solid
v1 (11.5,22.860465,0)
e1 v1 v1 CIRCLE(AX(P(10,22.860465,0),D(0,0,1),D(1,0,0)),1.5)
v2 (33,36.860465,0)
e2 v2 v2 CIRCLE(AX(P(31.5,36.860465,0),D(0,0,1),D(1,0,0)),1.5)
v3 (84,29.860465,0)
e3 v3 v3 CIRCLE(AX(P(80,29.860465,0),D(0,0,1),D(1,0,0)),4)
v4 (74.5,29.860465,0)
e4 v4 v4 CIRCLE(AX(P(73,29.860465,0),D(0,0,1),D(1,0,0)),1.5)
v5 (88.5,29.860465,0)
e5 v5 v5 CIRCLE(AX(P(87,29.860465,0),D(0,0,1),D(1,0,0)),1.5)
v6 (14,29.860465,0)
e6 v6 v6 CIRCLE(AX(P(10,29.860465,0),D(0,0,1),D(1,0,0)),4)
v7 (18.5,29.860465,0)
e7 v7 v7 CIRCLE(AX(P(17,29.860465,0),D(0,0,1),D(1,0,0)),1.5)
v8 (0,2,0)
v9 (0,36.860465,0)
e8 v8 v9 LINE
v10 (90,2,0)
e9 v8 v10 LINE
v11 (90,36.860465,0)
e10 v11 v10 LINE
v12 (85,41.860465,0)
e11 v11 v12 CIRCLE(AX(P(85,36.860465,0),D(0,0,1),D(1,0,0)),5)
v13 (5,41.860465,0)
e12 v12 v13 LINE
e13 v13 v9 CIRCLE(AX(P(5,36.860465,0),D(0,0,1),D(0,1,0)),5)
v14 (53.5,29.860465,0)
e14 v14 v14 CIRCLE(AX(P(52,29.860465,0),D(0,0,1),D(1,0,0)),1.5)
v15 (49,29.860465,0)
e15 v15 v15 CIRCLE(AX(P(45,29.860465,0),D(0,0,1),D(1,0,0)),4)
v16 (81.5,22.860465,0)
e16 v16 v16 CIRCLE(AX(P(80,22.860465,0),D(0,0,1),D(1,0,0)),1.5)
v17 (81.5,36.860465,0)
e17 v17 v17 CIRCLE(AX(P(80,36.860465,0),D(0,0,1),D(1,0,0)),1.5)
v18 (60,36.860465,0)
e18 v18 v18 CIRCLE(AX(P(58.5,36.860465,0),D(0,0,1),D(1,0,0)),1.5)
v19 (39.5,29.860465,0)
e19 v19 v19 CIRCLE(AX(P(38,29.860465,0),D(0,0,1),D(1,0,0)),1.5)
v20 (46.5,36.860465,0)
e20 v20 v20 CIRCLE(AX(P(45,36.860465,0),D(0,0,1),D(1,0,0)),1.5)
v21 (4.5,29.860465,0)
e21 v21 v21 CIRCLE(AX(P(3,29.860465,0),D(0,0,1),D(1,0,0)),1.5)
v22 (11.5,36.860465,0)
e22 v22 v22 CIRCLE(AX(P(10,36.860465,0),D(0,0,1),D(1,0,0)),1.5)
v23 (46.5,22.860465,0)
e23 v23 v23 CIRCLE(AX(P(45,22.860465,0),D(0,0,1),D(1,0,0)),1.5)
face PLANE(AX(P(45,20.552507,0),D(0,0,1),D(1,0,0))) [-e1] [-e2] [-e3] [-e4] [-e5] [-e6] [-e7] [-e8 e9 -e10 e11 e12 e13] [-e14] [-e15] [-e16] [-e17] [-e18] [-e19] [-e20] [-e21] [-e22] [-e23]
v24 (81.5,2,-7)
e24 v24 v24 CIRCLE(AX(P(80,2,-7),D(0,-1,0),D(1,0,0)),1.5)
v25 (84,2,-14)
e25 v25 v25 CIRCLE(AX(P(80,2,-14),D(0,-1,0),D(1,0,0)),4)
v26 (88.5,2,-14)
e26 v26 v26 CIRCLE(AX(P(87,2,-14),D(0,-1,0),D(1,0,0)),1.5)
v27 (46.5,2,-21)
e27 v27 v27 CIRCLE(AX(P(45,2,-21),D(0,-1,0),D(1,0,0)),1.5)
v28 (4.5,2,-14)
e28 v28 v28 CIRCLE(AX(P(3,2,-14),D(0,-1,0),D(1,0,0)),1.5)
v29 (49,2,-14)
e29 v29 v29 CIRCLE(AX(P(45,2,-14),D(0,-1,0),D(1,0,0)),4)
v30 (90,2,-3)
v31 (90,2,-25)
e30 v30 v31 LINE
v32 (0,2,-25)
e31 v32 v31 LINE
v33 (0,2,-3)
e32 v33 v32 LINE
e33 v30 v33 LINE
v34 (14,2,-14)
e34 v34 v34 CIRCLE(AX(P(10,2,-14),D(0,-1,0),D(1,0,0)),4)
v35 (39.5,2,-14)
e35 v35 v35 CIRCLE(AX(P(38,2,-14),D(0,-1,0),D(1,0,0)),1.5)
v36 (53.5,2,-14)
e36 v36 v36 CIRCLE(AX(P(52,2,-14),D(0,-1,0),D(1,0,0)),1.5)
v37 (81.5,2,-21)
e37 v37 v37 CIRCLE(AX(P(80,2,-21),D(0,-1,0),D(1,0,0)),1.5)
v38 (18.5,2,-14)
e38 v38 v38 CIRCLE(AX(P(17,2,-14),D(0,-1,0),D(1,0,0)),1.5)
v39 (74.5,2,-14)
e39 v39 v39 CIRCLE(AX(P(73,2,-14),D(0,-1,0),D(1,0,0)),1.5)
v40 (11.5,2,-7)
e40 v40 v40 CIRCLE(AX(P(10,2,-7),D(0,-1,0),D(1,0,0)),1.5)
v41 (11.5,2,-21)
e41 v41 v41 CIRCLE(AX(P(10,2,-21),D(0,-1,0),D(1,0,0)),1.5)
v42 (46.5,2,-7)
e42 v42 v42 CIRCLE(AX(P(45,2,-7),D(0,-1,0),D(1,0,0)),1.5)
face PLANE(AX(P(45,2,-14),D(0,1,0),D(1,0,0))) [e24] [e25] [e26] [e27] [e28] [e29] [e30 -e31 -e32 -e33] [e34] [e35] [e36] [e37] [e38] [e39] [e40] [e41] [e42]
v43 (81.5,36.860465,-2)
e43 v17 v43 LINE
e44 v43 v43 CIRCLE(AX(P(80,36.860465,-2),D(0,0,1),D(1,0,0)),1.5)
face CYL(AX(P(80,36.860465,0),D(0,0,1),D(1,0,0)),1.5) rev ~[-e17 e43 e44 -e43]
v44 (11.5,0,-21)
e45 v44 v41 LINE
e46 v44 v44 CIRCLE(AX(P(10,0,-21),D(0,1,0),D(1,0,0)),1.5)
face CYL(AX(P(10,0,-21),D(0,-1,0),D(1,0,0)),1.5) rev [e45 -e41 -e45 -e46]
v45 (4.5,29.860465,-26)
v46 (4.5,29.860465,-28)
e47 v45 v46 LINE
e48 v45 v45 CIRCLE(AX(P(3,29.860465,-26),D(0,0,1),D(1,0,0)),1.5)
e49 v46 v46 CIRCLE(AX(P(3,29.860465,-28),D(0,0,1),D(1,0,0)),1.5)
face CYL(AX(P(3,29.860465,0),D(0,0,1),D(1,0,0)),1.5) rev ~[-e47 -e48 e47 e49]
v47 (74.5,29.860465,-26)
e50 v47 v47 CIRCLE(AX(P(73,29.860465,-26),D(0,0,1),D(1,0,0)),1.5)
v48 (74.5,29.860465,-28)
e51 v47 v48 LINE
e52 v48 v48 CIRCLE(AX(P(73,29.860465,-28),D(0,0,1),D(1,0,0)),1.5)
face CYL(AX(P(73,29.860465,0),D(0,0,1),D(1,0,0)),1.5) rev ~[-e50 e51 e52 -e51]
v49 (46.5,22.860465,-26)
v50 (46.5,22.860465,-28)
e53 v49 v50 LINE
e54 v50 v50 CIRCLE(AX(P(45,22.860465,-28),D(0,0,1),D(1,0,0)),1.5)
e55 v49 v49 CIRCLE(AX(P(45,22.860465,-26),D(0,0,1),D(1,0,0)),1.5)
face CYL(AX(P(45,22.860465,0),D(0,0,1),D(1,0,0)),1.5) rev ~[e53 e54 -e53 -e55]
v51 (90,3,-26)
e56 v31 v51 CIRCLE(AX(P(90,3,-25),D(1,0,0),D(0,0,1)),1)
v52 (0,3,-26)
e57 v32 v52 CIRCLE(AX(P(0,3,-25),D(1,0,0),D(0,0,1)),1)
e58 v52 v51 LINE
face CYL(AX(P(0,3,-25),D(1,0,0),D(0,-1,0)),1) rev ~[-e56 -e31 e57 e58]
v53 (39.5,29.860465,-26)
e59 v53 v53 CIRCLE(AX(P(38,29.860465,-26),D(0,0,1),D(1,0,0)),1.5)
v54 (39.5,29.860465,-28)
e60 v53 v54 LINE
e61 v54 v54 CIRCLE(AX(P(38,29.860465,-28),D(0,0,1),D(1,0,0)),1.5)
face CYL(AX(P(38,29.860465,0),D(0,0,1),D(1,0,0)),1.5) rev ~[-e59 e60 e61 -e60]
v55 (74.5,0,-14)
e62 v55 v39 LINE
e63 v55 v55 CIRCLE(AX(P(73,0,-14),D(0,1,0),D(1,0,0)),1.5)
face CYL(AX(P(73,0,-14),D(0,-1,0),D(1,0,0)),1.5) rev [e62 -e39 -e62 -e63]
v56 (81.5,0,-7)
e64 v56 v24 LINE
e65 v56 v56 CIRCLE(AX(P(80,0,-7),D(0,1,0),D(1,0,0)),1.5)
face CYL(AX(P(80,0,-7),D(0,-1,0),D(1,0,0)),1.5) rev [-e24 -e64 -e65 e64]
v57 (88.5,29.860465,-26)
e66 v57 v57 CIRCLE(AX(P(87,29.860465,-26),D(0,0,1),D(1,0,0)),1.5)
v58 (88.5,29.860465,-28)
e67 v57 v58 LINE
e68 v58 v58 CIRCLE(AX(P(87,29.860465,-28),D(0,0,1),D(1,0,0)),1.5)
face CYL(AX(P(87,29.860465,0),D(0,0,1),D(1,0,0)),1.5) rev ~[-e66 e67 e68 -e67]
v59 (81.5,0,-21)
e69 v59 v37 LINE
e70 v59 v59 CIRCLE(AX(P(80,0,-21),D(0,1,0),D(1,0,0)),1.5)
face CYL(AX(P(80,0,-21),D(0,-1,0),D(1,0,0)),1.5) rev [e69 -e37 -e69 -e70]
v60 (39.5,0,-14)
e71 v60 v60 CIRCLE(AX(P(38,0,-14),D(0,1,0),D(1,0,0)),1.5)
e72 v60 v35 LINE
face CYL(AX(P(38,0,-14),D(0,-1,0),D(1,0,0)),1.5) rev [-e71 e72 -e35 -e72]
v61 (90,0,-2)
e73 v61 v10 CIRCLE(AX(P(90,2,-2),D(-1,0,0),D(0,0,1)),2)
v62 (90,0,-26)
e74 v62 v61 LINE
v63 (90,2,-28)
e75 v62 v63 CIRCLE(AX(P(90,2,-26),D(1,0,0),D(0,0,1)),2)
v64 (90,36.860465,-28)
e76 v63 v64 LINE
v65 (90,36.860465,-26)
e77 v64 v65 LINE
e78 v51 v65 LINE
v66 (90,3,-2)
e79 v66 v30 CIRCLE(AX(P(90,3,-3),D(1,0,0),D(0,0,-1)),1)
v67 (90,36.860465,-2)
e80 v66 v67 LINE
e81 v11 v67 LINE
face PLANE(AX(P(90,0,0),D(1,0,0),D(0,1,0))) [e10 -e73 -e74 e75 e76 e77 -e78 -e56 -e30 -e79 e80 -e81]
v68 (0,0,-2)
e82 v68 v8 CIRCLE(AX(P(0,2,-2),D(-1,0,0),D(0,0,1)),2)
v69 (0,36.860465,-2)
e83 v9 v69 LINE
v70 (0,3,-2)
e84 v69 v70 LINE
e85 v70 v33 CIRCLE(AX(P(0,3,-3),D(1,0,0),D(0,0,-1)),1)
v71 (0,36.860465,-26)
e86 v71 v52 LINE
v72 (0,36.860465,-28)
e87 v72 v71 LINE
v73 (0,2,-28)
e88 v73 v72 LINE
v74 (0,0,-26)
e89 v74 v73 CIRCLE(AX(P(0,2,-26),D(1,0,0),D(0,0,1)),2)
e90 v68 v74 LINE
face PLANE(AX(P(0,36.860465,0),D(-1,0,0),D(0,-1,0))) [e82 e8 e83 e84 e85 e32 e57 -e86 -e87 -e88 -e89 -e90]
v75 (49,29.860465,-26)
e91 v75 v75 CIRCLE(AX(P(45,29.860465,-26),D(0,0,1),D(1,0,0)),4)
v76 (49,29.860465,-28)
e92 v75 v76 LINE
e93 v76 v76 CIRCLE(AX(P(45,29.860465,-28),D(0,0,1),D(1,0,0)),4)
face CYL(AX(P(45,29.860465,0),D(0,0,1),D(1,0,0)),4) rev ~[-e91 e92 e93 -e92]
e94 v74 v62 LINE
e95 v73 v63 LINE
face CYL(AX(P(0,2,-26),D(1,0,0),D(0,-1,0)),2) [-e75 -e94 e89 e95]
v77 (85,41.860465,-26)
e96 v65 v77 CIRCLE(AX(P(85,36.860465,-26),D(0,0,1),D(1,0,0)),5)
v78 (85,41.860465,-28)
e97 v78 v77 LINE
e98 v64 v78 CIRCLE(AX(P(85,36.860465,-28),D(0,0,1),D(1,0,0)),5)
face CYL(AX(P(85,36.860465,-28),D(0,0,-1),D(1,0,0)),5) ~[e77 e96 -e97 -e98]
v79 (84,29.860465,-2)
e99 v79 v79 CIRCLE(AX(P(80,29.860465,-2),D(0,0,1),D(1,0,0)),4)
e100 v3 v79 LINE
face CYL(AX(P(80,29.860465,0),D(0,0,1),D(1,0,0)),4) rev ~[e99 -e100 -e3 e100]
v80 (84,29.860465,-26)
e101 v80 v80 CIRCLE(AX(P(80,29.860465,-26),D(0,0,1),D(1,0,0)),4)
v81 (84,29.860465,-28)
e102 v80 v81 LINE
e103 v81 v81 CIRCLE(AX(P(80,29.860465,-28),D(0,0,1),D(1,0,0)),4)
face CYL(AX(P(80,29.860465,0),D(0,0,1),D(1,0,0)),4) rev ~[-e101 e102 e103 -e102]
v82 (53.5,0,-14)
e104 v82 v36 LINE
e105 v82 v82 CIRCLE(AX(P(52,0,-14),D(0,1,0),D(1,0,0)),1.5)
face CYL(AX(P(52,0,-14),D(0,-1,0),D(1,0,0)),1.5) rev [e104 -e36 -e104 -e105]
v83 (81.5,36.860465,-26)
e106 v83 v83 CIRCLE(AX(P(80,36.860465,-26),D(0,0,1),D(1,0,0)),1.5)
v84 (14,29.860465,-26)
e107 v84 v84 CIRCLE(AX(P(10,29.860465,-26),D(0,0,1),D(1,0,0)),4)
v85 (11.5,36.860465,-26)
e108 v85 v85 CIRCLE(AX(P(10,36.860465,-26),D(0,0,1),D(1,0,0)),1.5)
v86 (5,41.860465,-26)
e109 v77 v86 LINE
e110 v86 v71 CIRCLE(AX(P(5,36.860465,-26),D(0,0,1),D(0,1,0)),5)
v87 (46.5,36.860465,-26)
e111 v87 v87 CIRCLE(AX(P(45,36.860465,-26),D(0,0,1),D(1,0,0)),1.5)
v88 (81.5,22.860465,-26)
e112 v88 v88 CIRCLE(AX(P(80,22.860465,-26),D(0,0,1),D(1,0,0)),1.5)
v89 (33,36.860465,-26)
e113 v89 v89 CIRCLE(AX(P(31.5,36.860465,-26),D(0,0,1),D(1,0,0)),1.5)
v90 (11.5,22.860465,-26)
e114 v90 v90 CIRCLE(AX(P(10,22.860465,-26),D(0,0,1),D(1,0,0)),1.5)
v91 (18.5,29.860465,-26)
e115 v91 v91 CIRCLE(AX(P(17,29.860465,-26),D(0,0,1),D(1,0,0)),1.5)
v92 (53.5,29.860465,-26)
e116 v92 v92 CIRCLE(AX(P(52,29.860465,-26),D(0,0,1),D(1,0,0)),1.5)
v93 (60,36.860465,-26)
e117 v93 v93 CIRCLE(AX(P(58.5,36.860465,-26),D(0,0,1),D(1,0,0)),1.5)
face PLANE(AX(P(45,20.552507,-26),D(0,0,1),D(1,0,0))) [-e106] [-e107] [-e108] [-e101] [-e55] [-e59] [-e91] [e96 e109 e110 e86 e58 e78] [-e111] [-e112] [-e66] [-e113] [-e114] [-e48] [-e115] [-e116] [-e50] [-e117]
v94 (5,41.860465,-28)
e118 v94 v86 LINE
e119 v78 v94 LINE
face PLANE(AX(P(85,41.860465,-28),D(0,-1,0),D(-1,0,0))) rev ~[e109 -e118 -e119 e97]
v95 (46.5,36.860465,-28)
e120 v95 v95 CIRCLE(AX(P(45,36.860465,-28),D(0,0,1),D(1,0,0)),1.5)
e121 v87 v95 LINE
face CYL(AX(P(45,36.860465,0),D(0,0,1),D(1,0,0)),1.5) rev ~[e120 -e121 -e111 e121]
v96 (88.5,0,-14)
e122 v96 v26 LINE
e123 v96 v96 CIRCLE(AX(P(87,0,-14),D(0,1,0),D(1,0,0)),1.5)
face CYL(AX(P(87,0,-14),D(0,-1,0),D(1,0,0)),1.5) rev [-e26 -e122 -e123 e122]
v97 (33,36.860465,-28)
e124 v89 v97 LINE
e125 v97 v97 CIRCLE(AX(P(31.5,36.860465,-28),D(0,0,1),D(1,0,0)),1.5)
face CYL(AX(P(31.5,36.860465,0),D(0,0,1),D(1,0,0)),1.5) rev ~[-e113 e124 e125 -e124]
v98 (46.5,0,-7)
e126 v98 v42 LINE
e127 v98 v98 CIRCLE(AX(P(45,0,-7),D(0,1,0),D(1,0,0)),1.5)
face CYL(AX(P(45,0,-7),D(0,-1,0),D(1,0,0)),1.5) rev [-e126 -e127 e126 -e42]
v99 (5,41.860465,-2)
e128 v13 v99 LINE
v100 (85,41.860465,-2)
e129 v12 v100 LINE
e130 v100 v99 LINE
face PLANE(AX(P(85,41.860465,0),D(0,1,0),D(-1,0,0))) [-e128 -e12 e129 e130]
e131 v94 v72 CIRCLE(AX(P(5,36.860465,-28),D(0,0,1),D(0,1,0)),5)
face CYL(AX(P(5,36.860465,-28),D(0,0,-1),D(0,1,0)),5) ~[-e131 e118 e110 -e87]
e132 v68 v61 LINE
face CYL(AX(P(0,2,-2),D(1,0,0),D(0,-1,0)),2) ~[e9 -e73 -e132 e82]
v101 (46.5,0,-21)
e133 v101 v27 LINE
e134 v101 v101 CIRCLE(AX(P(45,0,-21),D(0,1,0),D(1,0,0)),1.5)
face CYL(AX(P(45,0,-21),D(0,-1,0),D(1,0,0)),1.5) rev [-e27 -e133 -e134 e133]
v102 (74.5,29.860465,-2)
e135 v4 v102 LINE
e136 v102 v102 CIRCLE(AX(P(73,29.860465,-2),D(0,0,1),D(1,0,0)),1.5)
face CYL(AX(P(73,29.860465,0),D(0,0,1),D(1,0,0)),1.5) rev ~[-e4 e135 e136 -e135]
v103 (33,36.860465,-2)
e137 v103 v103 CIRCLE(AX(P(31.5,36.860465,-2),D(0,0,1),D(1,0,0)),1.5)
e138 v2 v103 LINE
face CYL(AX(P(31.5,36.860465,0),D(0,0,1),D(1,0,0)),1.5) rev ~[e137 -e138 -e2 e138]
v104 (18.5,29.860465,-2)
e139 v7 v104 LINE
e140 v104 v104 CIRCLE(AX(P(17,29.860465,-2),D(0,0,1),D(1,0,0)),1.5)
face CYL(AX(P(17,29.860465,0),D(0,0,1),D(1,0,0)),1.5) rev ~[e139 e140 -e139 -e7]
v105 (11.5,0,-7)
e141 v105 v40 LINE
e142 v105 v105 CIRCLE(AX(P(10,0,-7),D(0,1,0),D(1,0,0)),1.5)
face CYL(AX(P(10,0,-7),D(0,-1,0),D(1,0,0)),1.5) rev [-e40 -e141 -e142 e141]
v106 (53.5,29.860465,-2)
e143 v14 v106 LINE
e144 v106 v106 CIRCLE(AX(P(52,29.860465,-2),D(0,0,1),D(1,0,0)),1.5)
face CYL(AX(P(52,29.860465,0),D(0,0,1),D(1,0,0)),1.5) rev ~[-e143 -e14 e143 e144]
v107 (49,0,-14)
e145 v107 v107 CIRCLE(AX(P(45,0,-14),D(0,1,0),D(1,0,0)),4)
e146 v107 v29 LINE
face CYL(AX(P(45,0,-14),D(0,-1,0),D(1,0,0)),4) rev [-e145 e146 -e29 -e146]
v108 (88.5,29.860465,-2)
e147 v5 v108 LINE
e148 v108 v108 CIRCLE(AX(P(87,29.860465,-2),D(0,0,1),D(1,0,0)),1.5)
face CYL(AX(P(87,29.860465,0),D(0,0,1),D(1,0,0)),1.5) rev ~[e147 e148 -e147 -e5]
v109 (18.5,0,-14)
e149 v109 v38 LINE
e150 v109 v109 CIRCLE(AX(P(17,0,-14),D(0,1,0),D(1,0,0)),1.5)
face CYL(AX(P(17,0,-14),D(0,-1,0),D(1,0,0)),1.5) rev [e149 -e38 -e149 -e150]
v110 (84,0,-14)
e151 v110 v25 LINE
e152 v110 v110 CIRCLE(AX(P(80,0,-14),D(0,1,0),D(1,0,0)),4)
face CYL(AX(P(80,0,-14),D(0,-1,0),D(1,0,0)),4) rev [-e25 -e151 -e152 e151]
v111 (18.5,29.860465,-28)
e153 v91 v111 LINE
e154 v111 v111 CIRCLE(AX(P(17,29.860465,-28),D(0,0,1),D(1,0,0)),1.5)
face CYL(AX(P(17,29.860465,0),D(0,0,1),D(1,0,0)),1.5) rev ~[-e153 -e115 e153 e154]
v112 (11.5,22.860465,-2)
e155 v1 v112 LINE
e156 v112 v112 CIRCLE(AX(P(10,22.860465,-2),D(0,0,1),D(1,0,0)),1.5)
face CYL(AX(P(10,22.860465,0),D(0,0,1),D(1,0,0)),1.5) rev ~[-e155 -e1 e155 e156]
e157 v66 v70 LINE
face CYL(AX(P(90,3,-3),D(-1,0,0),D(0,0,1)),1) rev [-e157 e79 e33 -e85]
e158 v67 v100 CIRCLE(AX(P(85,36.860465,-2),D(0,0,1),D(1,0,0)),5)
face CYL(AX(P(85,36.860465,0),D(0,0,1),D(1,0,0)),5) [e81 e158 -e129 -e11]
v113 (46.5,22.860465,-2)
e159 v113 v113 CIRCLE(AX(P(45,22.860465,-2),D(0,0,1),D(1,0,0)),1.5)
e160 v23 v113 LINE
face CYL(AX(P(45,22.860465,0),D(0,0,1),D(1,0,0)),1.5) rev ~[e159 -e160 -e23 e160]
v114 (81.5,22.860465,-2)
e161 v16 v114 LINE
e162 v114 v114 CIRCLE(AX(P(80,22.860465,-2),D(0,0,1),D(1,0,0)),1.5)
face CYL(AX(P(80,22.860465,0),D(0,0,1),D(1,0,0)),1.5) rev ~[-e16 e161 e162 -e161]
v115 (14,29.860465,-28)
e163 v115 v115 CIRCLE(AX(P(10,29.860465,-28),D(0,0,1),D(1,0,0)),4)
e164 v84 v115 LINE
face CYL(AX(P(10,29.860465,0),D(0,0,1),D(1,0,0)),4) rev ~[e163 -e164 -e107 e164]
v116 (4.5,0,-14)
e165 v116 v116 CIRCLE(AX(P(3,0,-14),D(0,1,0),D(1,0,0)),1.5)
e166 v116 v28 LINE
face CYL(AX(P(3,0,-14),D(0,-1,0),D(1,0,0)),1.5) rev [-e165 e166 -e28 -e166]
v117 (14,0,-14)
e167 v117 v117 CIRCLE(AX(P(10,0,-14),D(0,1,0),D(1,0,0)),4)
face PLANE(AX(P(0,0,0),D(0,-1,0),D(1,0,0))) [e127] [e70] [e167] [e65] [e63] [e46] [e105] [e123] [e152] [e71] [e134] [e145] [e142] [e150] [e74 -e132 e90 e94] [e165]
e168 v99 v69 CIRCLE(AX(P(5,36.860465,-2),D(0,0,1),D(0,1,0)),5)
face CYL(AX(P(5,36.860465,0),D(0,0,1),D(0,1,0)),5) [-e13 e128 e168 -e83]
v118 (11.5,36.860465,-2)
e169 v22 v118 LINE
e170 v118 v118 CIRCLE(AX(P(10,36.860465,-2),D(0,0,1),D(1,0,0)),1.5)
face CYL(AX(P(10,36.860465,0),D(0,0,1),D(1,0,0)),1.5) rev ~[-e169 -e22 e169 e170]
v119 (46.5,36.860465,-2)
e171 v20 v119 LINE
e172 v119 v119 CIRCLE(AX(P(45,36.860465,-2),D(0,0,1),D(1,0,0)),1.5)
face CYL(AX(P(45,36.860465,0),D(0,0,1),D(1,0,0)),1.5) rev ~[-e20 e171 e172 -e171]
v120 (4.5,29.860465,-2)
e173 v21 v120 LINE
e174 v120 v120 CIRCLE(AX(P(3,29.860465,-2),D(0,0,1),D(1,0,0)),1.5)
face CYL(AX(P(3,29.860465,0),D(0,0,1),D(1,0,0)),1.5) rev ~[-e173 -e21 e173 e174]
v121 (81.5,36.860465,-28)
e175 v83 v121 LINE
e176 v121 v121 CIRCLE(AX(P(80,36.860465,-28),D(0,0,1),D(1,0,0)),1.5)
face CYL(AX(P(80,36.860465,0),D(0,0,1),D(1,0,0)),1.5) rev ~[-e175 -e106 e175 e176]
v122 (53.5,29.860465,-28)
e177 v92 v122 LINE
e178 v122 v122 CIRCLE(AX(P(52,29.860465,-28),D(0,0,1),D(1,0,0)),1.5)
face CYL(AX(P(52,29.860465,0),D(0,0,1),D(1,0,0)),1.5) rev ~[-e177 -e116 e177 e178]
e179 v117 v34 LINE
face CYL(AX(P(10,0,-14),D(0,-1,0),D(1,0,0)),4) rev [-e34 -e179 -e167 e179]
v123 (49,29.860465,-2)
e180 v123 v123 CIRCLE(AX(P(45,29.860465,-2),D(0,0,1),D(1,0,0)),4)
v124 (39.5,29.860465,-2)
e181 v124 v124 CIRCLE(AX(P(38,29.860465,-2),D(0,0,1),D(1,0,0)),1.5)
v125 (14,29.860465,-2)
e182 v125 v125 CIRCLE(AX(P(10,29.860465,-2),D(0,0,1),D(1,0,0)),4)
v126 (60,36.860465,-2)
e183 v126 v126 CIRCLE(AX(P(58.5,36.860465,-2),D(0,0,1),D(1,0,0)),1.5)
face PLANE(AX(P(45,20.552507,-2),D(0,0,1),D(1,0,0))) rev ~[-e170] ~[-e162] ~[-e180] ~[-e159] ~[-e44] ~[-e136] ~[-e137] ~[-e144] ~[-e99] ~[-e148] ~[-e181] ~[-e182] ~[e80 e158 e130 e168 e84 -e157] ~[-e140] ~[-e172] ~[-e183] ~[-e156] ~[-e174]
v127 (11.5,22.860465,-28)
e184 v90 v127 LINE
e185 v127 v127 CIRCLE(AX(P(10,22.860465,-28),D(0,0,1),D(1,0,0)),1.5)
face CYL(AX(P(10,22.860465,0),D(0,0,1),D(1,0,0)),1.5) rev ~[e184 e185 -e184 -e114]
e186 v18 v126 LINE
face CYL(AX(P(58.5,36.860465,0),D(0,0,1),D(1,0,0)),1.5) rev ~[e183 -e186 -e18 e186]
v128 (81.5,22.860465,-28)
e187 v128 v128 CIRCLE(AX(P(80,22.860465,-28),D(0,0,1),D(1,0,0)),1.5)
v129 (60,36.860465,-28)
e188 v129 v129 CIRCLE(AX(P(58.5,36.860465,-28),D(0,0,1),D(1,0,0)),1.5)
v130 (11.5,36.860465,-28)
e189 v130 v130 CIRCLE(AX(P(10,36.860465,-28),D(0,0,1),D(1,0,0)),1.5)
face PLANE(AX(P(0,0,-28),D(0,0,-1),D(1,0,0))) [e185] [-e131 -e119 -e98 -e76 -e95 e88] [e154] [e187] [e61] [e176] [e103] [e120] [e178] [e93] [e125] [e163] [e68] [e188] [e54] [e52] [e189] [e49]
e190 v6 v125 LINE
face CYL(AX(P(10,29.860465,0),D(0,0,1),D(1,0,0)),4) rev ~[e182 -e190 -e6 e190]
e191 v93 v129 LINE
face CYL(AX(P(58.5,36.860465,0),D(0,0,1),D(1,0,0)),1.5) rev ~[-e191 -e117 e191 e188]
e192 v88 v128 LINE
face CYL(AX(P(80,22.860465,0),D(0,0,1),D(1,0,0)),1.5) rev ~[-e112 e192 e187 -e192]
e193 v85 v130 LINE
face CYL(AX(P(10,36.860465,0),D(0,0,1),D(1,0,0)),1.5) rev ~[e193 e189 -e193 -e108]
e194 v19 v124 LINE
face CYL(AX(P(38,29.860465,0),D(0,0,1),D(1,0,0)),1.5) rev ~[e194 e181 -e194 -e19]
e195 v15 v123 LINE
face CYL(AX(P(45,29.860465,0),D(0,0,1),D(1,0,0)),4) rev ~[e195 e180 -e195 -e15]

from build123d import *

# Parameters (mm, degrees)
ESTRUSIONE_ESTRUSIONE1_DEPTH = 2
SCHIZZO2_W                   = 90
SCHIZZO2_H                   = 28
ESTRUSIONE_ESTRUSIONE2_DEPTH = 2
ESTRUSIONE_ESTRUSIONE3_DEPTH = 2
SCHIZZO5_R                   = 4
SCHIZZO5_R_2                 = 1.5
TAGLIO_ESTRUSIONE1_DEPTH     = 29
RACCORDO1_R                  = 2
RACCORDO2_R                  = 2
RACCORDO3_R                  = 1
RACCORDO4_R                  = 1
SCHIZZO6_R                   = 4
SCHIZZO6_R_2                 = 1.5
TAGLIO_ESTRUSIONE2_DEPTH     = 42.860465116
SKETCH1_R                    = 1.5
CUT_EXTRUDE1_DEPTH           = 1
CUT_EXTRUDE1_DEPTH_BACK      = 29


with BuildPart() as part:
    # Schizzo1 → Estrusione-Estrusione1 (new body)
    with BuildSketch(Plane.XY):
        with BuildLine():
            Line((0, 0), (90, 0))
            Line((90, 0), (90, 36.860465116))
            ThreePointArc((90, 36.860465116), (88.535533906, 40.395999022), (85, 41.860465116))
            Line((85, 41.860465116), (5, 41.860465116))
            ThreePointArc((5, 41.860465116), (1.464466094, 40.395999022), (0, 36.860465116))
            Line((0, 36.860465116), (0, 0))
        make_face()
    extrude(amount=-ESTRUSIONE_ESTRUSIONE1_DEPTH)

    # Schizzo2 → Estrusione-Estrusione2 (add)
    with BuildSketch(Plane(origin=(0, 0, 0), x_dir=(1, 0, 0), z_dir=(0, 1, 0))):
        with Locations((45, 14)):
            Rectangle(SCHIZZO2_W, SCHIZZO2_H)
    extrude(amount=ESTRUSIONE_ESTRUSIONE2_DEPTH)

    # Schizzo4 → Estrusione-Estrusione3 (add)
    with BuildSketch(Plane.XY.offset(-28)):
        with BuildLine():
            Line((90, 0), (90, 36.860465116))
            ThreePointArc((90, 36.860465116), (88.535533906, 40.395999022), (85, 41.860465116))
            Line((85, 41.860465116), (5, 41.860465116))
            ThreePointArc((5, 41.860465116), (1.464466094, 40.395999022), (0, 36.860465116))
            Line((0, 36.860465116), (0, 0))
            Line((0, 0), (90, 0))
        make_face()
    extrude(amount=ESTRUSIONE_ESTRUSIONE3_DEPTH)

    # Schizzo5 → Taglio-Estrusione1 (cut, through all)
    with BuildSketch(Plane.XY):
        with Locations((10, 29.860465116)):
            Circle(SCHIZZO5_R)
        with Locations((45, 29.860465116)):
            Circle(SCHIZZO5_R)
        with Locations((80, 29.860465116)):
            Circle(SCHIZZO5_R)
        with Locations((10, 36.860465116)):
            Circle(SCHIZZO5_R_2)
        with Locations((3, 29.860465116)):
            Circle(SCHIZZO5_R_2)
        with Locations((10, 22.860465116)):
            Circle(SCHIZZO5_R_2)
        with Locations((17, 29.860465116)):
            Circle(SCHIZZO5_R_2)
        with Locations((38, 29.860465116)):
            Circle(SCHIZZO5_R_2)
        with Locations((45, 36.860465116)):
            Circle(SCHIZZO5_R_2)
        with Locations((80, 36.860465116)):
            Circle(SCHIZZO5_R_2)
        with Locations((73, 29.860465116)):
            Circle(SCHIZZO5_R_2)
        with Locations((45, 22.860465116)):
            Circle(SCHIZZO5_R_2)
        with Locations((80, 22.860465116)):
            Circle(SCHIZZO5_R_2)
        with Locations((87, 29.860465116)):
            Circle(SCHIZZO5_R_2)
        with Locations((52, 29.860465116)):
            Circle(SCHIZZO5_R_2)
    extrude(amount=-TAGLIO_ESTRUSIONE1_DEPTH, mode=Mode.SUBTRACT)

    # Raccordo1
    raccordo1_edges = [part.edges().sort_by_distance(p)[0] for p in [
        (45, 0, -28),
    ]]
    fillet(raccordo1_edges, radius=RACCORDO1_R)

    # Raccordo2
    raccordo2_edges = [part.edges().sort_by_distance(p)[0] for p in [
        (45, 0, 0),
    ]]
    fillet(raccordo2_edges, radius=RACCORDO2_R)

    # Raccordo3
    raccordo3_edges = [part.edges().sort_by_distance(p)[0] for p in [
        (45, 2, -2),
    ]]
    fillet(raccordo3_edges, radius=RACCORDO3_R)

    # Raccordo4
    raccordo4_edges = [part.edges().sort_by_distance(p)[0] for p in [
        (45, 2, -26),
    ]]
    fillet(raccordo4_edges, radius=RACCORDO4_R)

    # Schizzo6 → Taglio-Estrusione2 (cut, through all)
    with BuildSketch(Plane(origin=(0, 0, 0), x_dir=(1, 0, 0), z_dir=(0, 1, 0))):
        with Locations((45, 14)):
            Circle(SCHIZZO6_R)
        with Locations((10, 14)):
            Circle(SCHIZZO6_R)
        with Locations((80, 14)):
            Circle(SCHIZZO6_R)
        with Locations((10, 21)):
            Circle(SCHIZZO6_R_2)
        with Locations((3, 14)):
            Circle(SCHIZZO6_R_2)
        with Locations((10, 7)):
            Circle(SCHIZZO6_R_2)
        with Locations((17, 14)):
            Circle(SCHIZZO6_R_2)
        with Locations((38, 14)):
            Circle(SCHIZZO6_R_2)
        with Locations((45, 21)):
            Circle(SCHIZZO6_R_2)
        with Locations((80, 21)):
            Circle(SCHIZZO6_R_2)
        with Locations((80, 7)):
            Circle(SCHIZZO6_R_2)
        with Locations((45, 7)):
            Circle(SCHIZZO6_R_2)
        with Locations((52, 14)):
            Circle(SCHIZZO6_R_2)
        with Locations((87, 14)):
            Circle(SCHIZZO6_R_2)
        with Locations((73, 14)):
            Circle(SCHIZZO6_R_2)
    extrude(amount=TAGLIO_ESTRUSIONE2_DEPTH, mode=Mode.SUBTRACT)

    # Sketch1 → Cut-Extrude1 (cut, two sides)
    with BuildSketch(Plane.XY) as cut_extrude1_sk:
        with Locations((31.5, 36.860465116)):
            Circle(SKETCH1_R)
        with Locations((58.5, 36.860465116)):
            Circle(SKETCH1_R)
    extrude(amount=CUT_EXTRUDE1_DEPTH, mode=Mode.SUBTRACT)
    extrude(cut_extrude1_sk.sketch, amount=-CUT_EXTRUDE1_DEPTH_BACK, mode=Mode.SUBTRACT)


solid = part.part
